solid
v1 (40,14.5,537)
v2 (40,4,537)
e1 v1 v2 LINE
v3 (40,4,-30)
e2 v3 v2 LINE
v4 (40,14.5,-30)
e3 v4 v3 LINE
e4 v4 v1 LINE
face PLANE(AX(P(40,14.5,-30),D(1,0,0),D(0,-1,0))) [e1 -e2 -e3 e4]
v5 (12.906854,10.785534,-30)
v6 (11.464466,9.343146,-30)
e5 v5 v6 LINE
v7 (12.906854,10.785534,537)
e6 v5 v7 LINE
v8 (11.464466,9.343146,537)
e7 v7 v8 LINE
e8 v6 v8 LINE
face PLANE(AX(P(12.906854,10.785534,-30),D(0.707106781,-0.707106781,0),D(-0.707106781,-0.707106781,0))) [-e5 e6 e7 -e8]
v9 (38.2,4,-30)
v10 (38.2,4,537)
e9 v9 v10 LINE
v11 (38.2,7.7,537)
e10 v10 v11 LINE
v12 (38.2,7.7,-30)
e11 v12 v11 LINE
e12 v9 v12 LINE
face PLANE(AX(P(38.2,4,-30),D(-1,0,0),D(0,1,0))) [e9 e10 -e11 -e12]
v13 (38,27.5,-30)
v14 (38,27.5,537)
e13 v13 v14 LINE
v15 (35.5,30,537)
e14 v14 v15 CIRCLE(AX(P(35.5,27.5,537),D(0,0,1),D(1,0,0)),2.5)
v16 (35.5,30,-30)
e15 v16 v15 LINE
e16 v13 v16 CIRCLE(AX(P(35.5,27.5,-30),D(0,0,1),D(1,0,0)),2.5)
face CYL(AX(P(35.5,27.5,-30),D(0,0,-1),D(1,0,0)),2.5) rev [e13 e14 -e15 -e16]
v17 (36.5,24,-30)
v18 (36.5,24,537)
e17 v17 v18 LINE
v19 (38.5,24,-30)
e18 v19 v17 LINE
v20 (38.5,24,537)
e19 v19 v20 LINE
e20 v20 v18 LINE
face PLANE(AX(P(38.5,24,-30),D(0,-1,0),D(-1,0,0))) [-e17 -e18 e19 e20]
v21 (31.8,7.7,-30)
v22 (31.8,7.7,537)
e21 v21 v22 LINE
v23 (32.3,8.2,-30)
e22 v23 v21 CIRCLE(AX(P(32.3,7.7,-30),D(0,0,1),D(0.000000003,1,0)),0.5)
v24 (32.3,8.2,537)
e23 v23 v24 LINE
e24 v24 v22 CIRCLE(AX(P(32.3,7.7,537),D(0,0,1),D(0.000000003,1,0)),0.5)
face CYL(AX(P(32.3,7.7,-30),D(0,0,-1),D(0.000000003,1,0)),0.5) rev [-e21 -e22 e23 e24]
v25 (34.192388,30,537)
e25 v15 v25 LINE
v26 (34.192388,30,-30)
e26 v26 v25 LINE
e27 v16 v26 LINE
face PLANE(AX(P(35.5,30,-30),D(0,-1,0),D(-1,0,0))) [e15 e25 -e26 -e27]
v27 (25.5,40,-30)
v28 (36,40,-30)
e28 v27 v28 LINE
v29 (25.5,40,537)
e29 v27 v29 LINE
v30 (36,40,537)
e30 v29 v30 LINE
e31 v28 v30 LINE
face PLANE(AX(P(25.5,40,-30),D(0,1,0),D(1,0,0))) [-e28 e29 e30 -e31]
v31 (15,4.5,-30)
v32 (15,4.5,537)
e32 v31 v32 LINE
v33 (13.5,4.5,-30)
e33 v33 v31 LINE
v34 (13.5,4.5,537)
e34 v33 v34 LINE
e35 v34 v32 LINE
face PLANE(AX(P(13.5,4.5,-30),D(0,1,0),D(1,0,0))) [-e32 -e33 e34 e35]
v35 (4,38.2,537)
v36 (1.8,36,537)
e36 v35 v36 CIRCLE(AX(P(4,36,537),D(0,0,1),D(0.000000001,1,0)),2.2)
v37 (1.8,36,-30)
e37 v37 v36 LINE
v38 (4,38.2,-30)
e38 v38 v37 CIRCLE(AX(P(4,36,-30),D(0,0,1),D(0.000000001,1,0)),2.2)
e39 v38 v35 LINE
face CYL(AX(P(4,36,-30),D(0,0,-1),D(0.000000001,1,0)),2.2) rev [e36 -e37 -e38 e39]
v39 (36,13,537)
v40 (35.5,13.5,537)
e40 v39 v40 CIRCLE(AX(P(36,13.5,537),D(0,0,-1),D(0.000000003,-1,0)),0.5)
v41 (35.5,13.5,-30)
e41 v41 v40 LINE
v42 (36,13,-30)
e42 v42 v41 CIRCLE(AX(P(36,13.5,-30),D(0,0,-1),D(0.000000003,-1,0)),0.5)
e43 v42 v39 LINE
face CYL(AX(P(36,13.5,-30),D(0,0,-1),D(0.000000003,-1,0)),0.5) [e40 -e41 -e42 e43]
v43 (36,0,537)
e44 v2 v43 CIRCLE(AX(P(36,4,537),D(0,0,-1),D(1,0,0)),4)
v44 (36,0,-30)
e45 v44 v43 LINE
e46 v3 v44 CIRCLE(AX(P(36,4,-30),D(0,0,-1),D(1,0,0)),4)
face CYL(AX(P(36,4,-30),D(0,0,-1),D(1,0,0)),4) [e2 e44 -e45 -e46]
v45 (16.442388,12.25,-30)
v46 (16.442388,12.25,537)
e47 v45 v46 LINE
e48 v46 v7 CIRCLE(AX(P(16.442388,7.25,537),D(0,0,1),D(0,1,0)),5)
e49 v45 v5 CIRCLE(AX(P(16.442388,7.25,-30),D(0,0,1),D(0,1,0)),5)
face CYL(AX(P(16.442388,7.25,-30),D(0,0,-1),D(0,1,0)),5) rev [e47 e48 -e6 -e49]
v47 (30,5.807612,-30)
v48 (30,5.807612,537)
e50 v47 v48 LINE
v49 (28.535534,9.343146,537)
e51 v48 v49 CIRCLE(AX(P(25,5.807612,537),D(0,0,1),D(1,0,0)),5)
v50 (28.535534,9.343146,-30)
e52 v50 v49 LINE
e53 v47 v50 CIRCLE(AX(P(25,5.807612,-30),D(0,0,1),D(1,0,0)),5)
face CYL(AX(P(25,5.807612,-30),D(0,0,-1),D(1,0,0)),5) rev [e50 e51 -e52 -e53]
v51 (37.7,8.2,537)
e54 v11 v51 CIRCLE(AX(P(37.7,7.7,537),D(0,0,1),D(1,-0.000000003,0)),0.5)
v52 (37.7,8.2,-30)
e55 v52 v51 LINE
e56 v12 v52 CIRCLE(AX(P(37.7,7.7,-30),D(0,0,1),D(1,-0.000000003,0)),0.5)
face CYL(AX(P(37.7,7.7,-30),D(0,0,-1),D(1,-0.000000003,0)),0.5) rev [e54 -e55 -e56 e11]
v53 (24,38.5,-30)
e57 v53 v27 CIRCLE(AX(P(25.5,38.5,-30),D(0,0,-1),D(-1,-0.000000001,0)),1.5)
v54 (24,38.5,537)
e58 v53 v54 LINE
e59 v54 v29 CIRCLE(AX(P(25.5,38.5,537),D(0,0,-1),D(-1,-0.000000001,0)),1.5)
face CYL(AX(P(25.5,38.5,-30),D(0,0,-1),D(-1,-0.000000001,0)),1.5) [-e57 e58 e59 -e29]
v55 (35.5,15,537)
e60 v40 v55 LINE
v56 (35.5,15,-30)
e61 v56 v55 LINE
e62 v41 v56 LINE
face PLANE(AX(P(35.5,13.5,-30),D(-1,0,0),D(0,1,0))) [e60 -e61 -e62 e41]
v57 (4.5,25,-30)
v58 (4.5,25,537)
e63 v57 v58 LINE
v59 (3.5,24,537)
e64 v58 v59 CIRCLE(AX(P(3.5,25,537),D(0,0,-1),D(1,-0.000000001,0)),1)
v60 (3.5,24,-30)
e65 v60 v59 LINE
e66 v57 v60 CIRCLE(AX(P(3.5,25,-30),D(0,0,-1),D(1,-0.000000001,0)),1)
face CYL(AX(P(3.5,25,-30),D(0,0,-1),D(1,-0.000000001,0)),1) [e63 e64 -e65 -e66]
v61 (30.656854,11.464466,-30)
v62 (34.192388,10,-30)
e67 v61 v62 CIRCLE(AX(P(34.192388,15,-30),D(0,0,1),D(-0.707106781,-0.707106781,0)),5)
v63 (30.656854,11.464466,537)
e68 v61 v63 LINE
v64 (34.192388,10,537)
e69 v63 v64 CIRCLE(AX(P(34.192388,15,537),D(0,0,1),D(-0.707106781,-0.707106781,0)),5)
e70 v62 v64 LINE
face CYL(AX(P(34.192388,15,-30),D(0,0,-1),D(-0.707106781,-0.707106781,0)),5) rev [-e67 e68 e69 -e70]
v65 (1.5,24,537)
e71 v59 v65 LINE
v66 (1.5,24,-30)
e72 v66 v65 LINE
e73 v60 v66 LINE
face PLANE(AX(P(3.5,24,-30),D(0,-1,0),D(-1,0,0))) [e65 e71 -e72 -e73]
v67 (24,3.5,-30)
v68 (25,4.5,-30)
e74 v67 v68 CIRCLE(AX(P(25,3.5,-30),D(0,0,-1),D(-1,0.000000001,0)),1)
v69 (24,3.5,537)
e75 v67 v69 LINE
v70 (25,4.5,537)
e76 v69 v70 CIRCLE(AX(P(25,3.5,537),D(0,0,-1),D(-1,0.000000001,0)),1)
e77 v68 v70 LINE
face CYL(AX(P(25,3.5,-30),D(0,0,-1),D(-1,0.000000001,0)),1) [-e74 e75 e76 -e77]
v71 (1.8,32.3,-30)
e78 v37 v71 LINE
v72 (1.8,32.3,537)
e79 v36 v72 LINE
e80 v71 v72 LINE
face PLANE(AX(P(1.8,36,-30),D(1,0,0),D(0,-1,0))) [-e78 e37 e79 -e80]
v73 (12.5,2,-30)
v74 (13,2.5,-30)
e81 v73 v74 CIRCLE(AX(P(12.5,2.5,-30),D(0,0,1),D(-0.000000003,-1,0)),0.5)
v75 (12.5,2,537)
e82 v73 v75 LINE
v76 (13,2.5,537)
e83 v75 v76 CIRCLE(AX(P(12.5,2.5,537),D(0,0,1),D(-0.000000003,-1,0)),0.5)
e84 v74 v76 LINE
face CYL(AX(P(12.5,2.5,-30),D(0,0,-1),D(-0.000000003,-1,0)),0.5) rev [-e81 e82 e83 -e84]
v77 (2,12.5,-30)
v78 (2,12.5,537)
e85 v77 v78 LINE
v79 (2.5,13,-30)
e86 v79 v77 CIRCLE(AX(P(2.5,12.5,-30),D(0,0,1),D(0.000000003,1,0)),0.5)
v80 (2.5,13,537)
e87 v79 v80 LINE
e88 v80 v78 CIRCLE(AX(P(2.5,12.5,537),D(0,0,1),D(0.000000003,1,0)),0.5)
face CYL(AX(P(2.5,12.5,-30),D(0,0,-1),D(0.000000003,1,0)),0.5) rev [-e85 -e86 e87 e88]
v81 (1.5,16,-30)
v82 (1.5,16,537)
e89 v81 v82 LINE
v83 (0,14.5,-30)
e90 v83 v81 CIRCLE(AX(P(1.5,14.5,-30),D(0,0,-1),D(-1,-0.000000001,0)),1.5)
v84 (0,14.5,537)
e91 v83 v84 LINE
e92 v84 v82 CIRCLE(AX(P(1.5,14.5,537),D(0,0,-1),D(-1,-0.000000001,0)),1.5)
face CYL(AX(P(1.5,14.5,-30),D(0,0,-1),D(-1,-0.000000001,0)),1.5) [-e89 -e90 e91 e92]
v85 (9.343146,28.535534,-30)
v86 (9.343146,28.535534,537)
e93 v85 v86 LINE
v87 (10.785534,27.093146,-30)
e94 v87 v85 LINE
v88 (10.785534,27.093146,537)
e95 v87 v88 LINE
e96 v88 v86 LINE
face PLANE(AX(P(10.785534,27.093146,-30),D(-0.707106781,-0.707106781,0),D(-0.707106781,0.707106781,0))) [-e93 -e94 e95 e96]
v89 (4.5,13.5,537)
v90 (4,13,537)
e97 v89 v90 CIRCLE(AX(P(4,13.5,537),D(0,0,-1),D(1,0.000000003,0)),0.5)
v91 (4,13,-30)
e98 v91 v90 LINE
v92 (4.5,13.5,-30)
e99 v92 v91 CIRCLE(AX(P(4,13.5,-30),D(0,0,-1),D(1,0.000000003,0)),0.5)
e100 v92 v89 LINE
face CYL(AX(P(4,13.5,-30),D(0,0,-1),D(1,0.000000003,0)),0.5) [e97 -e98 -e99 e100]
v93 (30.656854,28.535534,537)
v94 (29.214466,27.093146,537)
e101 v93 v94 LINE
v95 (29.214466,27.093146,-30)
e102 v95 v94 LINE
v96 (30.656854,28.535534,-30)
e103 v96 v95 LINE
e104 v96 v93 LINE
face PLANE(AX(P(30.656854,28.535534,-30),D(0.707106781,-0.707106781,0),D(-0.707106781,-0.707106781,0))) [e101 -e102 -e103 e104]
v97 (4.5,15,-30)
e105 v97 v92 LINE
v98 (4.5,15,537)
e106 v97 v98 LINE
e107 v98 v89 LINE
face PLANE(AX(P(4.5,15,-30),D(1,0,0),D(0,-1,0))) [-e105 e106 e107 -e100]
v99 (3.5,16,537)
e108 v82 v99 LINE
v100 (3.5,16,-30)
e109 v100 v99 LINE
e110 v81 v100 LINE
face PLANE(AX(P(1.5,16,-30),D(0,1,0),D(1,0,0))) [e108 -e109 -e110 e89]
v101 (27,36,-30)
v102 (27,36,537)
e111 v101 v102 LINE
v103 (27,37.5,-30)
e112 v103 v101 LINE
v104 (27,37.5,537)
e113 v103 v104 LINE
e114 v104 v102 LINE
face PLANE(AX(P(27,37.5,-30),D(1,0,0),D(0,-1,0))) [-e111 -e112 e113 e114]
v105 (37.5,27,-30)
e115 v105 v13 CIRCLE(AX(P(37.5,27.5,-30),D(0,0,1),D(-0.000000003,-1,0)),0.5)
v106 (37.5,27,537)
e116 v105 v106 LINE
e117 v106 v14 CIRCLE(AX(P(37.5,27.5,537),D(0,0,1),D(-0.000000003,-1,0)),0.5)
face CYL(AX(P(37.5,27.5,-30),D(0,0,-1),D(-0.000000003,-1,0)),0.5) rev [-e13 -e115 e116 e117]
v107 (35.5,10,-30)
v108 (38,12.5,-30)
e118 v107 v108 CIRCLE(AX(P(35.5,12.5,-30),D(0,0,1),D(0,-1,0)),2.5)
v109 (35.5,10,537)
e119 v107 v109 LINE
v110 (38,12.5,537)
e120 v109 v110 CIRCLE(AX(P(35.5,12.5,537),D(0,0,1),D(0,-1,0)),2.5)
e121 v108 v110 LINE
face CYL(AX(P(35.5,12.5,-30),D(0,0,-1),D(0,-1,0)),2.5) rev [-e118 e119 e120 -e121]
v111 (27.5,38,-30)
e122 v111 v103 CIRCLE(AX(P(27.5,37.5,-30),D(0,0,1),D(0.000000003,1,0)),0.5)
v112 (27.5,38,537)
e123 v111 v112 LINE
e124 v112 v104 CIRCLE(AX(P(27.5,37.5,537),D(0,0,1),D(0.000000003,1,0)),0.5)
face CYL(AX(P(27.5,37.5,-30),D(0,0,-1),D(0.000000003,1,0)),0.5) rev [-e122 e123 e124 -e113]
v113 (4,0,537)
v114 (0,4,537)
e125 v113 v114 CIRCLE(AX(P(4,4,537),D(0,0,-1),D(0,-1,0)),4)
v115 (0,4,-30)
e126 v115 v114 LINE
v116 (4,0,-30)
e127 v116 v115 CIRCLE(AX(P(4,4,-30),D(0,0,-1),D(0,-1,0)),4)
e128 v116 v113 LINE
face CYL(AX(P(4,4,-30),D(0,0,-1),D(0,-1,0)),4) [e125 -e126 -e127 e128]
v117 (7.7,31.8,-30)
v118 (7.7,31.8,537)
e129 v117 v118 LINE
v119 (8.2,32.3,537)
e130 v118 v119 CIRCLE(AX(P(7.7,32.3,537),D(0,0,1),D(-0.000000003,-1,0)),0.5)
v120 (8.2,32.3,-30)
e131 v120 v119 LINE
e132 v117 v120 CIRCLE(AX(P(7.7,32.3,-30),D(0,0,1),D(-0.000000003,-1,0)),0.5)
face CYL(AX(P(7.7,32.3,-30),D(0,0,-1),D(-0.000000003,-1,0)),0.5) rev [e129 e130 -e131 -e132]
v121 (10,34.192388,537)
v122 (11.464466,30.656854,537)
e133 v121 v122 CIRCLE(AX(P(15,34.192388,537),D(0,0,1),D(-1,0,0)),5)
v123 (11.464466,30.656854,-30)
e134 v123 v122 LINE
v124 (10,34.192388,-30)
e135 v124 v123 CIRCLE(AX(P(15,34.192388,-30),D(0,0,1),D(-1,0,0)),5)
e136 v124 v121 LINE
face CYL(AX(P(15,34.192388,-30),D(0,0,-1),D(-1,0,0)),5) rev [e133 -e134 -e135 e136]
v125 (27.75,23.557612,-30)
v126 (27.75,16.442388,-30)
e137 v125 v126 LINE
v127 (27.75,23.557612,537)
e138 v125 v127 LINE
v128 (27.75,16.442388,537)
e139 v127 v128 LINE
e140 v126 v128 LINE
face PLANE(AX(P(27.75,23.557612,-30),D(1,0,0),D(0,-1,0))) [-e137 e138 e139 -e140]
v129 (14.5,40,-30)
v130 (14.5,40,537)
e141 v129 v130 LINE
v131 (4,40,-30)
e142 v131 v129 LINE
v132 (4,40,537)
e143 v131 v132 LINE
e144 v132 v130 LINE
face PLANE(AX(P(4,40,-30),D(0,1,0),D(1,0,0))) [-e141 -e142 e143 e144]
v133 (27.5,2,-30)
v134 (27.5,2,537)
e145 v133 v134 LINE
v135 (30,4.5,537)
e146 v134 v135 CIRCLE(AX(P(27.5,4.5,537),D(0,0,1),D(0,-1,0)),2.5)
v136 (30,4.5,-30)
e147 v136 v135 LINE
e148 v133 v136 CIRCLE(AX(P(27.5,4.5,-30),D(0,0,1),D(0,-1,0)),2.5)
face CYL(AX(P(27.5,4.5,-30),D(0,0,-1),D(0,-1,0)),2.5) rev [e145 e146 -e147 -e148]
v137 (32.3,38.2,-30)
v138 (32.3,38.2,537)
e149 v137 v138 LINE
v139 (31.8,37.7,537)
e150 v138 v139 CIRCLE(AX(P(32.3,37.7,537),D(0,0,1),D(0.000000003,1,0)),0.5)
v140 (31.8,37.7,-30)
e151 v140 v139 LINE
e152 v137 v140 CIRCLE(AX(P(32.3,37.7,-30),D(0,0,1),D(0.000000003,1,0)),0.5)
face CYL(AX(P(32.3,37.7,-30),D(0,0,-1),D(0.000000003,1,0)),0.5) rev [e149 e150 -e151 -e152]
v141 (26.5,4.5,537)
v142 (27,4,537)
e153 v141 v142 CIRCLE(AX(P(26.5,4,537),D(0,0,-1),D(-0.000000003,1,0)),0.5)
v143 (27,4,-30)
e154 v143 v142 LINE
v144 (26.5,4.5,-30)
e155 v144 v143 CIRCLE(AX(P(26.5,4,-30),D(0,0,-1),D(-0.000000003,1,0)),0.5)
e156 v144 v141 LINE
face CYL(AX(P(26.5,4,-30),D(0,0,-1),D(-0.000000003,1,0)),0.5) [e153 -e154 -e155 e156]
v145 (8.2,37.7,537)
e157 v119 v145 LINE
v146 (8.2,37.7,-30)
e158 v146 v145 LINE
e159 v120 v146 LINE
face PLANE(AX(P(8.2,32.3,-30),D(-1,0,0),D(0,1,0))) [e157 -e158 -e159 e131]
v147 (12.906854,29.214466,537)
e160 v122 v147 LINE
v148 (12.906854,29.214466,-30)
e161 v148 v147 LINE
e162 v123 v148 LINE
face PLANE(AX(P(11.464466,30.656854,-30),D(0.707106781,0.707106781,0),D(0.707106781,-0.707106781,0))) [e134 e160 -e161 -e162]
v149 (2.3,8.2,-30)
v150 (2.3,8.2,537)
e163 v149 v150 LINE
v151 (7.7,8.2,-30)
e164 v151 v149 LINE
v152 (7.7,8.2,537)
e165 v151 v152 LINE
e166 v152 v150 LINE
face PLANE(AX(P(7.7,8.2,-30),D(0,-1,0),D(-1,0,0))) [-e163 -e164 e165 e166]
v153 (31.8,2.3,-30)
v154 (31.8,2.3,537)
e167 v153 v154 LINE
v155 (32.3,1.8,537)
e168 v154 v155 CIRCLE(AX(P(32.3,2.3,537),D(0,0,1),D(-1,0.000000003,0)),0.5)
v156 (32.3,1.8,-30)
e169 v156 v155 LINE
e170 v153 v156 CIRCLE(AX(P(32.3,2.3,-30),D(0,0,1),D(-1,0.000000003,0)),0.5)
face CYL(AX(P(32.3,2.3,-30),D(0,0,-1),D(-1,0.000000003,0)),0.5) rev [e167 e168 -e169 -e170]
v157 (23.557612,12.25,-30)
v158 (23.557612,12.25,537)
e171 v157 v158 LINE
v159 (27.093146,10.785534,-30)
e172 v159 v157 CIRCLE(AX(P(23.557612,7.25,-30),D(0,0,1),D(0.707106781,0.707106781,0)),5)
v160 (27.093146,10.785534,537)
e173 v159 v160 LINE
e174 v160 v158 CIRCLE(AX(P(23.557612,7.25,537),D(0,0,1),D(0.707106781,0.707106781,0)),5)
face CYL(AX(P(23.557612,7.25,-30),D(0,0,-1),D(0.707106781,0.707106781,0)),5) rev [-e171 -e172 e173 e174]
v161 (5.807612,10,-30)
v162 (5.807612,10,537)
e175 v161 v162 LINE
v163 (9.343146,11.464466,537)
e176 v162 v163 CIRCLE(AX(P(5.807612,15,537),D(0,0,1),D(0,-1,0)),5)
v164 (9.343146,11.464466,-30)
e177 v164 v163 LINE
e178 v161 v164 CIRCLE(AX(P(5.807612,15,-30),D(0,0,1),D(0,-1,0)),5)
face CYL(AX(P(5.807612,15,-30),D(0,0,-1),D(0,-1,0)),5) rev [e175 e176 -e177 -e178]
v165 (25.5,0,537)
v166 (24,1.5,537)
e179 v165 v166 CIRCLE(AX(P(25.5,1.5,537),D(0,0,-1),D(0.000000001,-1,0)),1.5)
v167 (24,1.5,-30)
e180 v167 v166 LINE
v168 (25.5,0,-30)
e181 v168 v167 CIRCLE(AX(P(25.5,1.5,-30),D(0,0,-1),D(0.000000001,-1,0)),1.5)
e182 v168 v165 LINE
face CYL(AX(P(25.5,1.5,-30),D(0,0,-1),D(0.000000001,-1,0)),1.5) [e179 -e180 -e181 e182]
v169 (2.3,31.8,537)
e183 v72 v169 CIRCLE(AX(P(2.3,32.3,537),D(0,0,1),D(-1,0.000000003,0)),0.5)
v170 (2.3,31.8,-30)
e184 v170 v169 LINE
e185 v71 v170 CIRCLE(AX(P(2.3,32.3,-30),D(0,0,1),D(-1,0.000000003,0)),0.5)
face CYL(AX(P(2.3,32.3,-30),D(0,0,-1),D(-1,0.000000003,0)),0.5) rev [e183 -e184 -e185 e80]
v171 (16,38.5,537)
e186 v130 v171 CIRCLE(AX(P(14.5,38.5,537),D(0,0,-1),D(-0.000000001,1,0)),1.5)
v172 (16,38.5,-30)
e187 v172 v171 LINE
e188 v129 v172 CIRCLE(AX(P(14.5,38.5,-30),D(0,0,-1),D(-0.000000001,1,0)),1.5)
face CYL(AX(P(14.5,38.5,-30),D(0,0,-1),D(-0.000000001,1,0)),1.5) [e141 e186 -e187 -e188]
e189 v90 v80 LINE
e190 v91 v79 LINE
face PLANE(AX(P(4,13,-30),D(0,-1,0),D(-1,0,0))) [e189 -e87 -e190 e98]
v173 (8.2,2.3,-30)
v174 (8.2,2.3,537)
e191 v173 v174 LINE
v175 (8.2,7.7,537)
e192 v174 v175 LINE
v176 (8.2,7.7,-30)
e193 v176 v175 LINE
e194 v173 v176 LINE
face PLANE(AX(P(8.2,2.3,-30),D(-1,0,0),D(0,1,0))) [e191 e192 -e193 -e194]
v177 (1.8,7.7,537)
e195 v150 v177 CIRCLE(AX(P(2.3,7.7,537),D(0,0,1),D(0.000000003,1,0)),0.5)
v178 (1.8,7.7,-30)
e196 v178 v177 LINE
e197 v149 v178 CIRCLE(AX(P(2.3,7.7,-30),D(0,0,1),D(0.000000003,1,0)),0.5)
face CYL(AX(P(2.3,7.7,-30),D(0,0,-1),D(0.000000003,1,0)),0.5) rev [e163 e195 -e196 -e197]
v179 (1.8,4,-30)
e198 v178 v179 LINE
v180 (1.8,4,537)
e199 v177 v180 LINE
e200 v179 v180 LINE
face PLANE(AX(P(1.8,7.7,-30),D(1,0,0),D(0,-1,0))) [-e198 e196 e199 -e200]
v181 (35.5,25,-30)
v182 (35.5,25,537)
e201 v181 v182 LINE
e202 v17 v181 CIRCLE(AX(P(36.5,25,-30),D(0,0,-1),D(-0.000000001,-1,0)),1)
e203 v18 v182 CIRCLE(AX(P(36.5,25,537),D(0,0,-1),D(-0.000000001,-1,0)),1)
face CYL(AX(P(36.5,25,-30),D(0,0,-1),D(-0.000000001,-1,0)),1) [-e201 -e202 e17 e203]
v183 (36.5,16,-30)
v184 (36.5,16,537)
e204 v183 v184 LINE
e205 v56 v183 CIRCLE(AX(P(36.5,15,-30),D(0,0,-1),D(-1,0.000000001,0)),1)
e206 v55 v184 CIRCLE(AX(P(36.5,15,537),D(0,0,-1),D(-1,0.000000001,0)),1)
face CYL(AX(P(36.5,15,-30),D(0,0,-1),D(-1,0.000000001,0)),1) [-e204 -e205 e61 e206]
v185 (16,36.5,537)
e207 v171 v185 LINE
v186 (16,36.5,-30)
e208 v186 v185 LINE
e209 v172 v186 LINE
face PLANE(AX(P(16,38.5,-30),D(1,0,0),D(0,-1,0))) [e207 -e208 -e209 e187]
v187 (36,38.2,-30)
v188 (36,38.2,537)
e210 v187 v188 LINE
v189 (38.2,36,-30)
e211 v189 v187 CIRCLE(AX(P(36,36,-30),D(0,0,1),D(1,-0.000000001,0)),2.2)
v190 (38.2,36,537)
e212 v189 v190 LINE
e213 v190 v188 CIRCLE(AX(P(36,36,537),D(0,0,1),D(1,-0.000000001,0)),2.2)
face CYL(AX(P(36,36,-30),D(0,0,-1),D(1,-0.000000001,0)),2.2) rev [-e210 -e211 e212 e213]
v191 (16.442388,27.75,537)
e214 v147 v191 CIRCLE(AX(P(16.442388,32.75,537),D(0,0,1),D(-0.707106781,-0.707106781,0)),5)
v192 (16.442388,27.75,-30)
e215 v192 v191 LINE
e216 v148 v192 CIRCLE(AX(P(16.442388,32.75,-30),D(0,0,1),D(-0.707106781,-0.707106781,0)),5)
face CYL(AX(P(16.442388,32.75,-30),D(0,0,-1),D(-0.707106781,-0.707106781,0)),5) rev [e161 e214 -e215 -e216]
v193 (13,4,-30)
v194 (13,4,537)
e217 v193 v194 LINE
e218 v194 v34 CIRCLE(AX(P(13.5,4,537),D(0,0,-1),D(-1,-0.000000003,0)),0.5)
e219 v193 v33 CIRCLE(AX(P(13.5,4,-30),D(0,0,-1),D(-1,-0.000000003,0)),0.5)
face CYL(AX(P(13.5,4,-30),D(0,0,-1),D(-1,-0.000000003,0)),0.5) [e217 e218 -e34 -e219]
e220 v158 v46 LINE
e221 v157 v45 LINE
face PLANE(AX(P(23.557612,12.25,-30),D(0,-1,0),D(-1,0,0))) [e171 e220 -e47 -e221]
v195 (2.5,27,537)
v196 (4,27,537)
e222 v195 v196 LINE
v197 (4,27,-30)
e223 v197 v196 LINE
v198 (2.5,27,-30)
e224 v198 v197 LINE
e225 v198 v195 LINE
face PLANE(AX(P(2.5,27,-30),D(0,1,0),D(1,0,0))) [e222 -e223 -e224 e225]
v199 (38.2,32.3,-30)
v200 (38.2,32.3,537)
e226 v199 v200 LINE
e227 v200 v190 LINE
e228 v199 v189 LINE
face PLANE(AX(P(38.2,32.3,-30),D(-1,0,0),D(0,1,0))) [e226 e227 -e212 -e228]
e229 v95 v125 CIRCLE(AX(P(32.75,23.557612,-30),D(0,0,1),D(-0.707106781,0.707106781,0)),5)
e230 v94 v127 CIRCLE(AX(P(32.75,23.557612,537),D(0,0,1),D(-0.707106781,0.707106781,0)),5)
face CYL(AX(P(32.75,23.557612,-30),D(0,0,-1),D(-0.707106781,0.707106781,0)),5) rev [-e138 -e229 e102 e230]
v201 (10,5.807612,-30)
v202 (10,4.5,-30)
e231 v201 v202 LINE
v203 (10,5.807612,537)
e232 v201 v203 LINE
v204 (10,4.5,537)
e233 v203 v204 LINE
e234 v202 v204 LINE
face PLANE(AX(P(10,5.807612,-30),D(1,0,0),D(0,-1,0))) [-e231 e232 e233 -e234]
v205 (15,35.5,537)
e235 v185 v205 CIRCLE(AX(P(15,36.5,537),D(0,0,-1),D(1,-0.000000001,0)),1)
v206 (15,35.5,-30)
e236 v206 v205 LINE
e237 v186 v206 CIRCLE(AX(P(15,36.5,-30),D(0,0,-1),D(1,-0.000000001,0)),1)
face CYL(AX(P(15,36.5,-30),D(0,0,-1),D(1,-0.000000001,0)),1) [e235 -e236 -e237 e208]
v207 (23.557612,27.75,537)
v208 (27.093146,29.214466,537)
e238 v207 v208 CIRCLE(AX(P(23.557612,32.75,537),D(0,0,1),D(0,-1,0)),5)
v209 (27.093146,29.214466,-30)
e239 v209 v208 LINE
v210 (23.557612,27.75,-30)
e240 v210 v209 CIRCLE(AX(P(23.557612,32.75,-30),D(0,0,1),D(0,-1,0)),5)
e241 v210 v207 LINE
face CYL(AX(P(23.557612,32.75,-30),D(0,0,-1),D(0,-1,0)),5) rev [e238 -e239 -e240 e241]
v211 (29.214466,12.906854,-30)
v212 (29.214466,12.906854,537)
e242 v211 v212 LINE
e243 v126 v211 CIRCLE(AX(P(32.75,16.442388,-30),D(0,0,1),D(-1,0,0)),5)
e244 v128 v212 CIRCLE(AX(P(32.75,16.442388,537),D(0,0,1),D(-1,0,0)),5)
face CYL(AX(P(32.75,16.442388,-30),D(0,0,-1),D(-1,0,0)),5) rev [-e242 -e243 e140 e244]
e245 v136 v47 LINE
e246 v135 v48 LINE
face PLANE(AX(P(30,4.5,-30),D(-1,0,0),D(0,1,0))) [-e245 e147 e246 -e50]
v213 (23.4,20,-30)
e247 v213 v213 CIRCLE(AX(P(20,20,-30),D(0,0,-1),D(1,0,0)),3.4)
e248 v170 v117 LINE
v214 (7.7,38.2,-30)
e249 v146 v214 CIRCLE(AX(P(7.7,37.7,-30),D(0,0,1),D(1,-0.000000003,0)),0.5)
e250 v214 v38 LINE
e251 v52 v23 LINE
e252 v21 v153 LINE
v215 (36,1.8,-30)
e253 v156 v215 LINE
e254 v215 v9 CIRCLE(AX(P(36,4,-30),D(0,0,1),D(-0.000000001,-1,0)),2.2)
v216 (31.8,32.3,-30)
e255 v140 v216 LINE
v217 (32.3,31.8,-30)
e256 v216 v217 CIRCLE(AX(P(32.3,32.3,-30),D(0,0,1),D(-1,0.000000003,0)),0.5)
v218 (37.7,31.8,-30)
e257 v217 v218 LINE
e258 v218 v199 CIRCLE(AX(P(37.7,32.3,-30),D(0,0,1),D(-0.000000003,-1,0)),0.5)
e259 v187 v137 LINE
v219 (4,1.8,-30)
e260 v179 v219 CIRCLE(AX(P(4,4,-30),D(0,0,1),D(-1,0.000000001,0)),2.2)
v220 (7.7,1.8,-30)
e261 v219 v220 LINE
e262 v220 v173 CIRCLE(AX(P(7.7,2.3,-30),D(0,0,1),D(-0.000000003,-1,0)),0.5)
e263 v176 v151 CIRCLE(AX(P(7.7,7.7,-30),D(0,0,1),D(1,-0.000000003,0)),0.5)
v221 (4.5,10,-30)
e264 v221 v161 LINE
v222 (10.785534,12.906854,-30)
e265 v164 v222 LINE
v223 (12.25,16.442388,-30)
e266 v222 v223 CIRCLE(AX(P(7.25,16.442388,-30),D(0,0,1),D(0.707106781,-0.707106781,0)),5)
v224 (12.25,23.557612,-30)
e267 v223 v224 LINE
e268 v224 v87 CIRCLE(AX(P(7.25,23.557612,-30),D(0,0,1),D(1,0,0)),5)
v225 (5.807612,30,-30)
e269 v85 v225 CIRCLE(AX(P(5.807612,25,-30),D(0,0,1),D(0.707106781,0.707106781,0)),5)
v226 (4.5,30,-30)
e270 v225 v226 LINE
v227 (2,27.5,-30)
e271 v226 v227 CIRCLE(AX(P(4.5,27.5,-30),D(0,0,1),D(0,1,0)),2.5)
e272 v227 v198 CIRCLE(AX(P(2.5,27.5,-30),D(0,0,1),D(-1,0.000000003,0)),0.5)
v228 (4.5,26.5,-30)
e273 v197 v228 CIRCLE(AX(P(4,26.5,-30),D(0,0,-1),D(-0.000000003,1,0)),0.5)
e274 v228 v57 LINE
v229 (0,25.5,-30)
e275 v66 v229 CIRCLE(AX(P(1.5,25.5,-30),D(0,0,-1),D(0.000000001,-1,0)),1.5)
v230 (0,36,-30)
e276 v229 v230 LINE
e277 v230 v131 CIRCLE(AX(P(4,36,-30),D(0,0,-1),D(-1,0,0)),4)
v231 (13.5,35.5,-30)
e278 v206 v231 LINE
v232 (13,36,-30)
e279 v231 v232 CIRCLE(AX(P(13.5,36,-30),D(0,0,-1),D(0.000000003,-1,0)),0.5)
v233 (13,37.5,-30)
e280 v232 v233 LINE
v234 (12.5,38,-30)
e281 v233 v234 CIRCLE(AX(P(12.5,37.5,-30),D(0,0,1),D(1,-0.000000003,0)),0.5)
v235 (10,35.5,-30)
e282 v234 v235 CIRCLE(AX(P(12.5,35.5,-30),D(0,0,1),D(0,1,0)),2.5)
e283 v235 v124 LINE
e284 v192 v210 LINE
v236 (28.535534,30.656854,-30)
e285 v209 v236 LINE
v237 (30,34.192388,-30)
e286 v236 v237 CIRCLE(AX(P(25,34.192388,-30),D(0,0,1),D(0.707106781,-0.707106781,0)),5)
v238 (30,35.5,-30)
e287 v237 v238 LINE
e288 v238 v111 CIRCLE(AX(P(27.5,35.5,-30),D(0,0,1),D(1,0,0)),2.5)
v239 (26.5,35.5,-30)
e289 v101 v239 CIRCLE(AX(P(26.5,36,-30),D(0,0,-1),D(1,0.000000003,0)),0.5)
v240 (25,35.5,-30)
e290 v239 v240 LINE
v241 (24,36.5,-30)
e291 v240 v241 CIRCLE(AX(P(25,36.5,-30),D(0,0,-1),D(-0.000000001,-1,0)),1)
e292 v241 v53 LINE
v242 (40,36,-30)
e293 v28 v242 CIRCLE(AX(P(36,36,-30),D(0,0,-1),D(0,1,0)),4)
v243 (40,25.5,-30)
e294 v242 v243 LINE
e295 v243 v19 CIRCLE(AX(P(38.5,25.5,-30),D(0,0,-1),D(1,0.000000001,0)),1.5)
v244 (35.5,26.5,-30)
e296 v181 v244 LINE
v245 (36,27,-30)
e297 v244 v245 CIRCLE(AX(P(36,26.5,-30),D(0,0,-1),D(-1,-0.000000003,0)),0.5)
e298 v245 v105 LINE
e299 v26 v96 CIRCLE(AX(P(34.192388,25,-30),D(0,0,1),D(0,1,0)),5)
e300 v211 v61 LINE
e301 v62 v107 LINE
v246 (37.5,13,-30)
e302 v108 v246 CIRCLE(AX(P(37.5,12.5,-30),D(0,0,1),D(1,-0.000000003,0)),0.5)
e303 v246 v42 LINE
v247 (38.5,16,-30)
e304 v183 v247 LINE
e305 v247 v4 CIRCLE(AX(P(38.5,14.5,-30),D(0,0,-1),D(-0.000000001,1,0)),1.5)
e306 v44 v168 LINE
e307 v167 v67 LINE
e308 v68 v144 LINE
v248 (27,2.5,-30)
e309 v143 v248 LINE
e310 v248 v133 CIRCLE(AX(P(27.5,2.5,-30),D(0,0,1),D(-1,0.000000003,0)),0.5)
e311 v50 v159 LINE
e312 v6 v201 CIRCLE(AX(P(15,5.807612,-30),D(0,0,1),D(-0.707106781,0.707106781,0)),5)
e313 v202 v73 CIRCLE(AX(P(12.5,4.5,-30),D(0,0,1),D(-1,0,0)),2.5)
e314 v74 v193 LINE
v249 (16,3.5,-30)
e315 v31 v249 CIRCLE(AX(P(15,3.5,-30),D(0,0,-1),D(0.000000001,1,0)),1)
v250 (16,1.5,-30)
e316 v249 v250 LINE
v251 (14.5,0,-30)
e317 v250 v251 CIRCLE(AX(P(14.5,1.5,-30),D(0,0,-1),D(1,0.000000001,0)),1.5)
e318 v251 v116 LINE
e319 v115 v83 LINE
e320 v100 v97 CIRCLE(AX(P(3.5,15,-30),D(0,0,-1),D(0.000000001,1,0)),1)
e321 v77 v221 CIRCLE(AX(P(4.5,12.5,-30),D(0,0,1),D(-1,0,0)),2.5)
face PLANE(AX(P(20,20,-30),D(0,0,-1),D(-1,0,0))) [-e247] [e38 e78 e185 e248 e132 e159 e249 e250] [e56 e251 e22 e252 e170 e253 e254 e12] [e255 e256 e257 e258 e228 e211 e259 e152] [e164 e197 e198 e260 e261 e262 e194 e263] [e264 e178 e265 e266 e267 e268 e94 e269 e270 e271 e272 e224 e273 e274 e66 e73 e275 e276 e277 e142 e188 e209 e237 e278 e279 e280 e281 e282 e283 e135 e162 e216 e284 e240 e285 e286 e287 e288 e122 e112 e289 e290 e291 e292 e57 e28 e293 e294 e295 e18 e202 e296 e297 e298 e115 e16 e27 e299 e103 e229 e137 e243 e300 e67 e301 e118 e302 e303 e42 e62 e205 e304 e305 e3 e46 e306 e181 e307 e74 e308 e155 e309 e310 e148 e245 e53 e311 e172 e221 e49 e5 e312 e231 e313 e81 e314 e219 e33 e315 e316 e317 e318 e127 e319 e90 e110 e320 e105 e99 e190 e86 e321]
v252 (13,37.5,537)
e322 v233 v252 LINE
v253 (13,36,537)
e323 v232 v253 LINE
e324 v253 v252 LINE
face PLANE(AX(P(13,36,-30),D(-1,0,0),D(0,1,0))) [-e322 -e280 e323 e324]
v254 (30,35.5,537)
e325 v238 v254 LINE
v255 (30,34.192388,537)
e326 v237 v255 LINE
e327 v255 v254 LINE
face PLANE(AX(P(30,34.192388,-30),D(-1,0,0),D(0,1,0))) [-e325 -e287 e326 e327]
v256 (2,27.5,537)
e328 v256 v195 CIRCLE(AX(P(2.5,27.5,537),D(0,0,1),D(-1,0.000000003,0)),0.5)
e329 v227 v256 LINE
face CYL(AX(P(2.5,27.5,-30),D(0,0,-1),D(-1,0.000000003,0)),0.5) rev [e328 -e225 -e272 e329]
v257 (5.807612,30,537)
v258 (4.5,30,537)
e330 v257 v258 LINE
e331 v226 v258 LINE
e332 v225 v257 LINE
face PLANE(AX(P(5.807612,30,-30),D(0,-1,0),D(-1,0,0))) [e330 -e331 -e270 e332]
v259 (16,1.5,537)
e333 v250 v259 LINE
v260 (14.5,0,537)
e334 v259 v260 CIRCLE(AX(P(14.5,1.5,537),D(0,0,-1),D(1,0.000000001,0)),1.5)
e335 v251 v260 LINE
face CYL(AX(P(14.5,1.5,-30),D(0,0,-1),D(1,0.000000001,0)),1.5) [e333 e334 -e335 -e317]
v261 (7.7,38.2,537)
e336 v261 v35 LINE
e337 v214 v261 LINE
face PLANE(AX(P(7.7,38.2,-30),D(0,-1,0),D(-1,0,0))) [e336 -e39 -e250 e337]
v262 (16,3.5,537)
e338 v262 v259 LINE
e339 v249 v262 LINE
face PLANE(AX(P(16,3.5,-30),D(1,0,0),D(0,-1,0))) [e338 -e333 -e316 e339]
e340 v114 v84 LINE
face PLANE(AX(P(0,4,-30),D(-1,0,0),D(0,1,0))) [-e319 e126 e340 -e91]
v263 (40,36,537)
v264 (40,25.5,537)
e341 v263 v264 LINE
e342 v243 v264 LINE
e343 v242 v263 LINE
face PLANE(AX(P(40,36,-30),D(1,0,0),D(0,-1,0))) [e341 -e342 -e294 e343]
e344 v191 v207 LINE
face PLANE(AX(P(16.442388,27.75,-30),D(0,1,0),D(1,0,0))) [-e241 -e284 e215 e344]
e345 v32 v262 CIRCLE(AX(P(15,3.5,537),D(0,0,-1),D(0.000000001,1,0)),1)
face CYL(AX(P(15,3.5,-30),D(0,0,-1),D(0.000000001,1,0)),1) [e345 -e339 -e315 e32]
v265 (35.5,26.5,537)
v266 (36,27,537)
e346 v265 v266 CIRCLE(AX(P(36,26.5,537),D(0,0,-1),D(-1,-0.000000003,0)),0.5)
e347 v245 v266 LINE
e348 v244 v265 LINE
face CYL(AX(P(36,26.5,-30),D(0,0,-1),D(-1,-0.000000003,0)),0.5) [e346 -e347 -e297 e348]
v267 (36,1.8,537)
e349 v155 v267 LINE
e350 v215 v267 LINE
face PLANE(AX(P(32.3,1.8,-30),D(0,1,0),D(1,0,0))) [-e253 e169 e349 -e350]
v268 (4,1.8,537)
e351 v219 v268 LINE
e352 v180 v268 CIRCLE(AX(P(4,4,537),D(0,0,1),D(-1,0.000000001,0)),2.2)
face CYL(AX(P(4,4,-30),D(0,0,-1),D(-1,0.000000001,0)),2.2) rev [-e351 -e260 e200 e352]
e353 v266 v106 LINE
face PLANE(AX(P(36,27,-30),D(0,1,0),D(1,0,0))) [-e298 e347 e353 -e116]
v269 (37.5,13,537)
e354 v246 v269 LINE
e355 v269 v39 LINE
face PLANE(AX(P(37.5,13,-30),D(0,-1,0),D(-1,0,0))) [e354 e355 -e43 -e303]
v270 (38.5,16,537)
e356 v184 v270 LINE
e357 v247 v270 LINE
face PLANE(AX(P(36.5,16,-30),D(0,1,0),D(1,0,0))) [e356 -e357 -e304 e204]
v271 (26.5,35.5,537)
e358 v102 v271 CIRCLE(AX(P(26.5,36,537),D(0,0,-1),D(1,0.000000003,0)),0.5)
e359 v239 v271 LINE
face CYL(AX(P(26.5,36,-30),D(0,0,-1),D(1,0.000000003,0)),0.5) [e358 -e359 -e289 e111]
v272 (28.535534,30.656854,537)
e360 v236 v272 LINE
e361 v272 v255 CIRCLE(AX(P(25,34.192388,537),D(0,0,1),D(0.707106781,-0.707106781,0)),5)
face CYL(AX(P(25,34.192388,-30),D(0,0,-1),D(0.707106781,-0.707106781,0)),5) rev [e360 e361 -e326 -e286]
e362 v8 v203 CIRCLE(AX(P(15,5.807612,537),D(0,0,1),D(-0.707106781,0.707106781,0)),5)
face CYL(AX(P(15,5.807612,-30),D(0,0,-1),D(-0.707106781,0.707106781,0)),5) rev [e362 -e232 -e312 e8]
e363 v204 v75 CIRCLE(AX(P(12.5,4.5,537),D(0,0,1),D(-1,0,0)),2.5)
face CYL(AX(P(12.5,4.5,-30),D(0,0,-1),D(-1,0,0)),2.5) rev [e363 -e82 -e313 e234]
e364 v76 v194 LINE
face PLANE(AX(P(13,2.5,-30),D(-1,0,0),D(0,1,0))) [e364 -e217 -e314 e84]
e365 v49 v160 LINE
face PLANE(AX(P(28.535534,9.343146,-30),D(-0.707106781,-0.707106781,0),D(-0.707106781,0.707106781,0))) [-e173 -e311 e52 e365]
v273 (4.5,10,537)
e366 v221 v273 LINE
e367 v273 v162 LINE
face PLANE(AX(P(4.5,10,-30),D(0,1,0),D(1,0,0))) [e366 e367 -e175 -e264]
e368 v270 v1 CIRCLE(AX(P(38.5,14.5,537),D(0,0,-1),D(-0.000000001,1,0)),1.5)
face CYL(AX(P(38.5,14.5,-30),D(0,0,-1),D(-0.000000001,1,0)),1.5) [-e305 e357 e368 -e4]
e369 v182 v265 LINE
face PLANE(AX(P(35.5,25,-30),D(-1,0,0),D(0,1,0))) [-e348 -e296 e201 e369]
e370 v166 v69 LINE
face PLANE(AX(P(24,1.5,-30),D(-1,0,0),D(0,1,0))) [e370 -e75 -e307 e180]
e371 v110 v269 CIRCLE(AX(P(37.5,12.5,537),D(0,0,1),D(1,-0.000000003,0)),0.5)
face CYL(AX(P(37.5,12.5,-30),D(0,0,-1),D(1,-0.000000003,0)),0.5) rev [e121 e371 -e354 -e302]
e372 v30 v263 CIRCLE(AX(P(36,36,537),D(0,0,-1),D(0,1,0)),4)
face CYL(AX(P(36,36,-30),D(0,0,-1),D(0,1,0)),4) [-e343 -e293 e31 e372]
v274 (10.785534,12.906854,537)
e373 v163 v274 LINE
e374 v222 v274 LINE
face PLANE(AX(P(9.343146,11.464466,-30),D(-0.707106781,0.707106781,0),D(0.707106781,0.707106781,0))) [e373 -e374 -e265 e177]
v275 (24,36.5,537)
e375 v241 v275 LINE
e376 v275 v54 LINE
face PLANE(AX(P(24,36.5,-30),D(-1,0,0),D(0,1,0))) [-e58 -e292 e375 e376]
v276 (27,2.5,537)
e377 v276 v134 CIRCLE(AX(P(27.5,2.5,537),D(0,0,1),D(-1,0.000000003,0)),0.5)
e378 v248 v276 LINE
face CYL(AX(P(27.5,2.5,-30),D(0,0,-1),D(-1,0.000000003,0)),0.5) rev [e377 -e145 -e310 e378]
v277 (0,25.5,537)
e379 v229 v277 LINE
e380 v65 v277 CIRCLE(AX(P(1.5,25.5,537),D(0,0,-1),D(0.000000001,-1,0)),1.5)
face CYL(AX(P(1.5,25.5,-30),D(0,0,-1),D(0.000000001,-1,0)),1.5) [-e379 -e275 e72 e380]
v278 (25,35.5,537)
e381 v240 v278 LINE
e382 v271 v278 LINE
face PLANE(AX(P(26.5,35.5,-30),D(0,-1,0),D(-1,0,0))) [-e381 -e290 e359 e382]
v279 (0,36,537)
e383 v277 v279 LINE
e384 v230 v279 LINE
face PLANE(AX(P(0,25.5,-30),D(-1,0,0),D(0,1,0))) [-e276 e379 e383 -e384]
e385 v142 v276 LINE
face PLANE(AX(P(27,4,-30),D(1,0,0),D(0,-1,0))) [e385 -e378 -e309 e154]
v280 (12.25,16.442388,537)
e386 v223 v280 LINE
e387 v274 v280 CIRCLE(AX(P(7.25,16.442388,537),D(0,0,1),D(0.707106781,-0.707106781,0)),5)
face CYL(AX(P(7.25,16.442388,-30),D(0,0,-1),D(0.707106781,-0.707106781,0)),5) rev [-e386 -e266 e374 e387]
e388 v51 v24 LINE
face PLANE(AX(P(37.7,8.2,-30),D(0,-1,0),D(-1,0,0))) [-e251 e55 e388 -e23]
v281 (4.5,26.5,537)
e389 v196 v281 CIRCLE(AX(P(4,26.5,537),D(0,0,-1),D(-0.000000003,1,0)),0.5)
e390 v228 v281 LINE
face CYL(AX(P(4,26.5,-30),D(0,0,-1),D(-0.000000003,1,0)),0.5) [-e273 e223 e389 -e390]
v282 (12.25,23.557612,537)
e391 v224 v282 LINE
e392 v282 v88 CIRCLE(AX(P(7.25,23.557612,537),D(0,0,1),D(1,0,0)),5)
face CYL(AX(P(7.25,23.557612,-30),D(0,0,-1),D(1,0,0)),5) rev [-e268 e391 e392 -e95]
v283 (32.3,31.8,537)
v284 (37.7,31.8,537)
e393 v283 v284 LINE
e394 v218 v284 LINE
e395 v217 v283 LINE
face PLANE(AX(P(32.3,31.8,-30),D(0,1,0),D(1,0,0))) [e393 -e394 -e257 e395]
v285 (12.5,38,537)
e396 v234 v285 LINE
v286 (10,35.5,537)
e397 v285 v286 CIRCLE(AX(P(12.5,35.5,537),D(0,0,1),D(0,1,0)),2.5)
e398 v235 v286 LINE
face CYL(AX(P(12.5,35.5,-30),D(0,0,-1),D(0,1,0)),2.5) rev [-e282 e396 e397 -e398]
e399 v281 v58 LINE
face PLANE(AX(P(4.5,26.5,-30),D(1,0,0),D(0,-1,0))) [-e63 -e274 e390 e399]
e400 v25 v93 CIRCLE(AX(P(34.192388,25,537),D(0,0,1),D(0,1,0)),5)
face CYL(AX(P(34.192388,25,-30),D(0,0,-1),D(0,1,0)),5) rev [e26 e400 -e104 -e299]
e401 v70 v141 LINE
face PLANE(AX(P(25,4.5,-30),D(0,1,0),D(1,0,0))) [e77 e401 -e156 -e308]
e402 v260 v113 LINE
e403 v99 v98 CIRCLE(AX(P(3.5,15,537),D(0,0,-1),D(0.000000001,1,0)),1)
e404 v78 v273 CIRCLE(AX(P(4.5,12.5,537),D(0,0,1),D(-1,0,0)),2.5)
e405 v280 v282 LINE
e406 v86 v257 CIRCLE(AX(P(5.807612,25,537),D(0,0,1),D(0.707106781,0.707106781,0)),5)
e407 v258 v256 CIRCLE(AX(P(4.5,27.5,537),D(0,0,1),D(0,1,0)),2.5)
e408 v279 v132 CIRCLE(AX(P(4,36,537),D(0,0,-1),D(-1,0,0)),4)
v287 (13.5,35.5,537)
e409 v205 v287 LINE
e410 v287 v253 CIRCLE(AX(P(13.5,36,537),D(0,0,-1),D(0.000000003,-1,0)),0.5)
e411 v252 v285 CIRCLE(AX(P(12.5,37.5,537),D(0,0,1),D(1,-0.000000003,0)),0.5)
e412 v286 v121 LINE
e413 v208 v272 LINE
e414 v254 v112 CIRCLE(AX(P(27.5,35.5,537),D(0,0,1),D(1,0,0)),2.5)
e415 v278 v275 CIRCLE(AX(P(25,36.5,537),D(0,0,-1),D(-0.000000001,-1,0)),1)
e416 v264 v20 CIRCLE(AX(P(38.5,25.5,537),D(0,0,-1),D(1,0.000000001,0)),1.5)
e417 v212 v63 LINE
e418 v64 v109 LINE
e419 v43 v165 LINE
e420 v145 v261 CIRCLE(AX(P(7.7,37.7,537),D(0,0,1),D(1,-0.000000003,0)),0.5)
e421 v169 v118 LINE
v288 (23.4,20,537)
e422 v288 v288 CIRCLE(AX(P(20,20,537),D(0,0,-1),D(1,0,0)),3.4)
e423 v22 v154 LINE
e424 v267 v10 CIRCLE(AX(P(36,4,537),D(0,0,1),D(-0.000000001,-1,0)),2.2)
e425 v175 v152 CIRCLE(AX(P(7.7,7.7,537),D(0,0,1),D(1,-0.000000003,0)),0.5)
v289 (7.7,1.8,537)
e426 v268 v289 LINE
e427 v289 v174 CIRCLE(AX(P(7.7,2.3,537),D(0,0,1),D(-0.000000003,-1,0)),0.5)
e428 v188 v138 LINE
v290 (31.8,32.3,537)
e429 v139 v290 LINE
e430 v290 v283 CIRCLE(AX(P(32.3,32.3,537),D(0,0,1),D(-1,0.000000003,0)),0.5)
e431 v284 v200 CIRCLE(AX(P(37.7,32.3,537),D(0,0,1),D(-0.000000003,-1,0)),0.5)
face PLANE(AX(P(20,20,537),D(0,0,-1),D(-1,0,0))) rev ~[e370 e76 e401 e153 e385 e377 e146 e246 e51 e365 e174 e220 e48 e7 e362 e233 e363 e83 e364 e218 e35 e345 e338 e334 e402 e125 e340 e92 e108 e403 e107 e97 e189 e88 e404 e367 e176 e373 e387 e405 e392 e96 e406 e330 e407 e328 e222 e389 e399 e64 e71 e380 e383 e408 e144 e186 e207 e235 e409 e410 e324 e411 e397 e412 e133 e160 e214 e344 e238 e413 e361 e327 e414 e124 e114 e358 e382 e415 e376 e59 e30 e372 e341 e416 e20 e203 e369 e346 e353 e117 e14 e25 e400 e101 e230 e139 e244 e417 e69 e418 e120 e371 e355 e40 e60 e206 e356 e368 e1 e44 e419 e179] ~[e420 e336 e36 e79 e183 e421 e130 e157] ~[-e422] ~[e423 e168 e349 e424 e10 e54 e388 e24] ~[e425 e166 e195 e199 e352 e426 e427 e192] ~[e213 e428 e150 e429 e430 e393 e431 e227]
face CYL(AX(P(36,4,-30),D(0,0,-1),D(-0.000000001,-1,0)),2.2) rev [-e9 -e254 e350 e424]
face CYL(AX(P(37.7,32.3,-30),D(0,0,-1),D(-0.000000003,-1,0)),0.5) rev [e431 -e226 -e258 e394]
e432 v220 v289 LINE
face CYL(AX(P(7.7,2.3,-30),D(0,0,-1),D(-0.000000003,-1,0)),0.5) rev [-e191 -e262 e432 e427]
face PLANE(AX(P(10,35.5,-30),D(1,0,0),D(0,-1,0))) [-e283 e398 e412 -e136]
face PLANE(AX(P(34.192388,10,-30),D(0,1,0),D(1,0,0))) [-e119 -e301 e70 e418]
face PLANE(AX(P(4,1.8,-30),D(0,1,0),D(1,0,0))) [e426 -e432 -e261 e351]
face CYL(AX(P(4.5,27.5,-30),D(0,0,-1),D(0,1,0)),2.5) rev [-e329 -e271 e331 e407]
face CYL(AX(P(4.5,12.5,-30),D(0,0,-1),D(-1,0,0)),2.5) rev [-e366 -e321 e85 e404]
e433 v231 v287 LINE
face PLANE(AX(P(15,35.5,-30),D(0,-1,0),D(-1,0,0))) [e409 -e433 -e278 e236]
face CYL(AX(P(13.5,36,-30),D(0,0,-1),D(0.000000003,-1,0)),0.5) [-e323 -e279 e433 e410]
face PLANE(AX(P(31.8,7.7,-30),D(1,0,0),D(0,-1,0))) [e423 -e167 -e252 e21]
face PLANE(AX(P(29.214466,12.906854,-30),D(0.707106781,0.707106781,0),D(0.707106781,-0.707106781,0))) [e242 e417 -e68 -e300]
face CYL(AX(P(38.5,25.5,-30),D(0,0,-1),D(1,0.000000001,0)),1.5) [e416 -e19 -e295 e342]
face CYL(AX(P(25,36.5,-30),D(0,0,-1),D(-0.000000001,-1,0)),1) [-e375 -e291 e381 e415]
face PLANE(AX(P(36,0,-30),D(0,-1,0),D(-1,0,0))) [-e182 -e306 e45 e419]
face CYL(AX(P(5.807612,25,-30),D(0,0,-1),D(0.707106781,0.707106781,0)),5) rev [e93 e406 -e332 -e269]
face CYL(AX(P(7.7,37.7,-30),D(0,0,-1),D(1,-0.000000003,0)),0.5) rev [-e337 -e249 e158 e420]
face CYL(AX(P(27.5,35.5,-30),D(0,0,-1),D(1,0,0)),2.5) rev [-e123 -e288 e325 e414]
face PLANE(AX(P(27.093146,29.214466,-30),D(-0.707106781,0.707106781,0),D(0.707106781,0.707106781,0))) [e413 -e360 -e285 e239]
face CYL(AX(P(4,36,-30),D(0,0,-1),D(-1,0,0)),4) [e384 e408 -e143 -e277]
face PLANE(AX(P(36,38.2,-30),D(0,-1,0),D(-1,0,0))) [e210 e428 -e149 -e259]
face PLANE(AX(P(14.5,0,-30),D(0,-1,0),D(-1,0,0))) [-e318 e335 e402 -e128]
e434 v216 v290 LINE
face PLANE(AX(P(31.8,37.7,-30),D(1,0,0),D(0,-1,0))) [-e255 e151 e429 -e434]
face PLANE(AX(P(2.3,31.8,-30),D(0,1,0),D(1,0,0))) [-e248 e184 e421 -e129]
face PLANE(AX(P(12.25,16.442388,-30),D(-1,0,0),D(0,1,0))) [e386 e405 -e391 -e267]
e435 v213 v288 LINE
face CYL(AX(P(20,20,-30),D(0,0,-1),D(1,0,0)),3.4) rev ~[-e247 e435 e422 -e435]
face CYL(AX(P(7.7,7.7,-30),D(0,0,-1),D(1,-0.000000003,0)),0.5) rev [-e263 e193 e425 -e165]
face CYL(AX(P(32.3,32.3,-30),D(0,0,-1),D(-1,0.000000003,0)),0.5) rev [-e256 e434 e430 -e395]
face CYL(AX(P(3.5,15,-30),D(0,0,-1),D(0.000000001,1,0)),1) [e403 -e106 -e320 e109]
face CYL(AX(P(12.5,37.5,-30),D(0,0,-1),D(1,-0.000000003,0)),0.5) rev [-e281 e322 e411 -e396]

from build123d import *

# Parameters (mm, degrees)
ESQUISSE1_R        = 3.4
BOSS_EXTRU_1_DEPTH = 567


with BuildPart() as part:
    # Esquisse1 → Boss.-Extru.1 (new body)
    with BuildSketch(Plane(origin=(0, 0, -30), x_dir=(-1, 0, 0), z_dir=(0, 0, -1))):
        with BuildLine():
            Line((-4.5, 15), (-4.5, 13.5))
            ThreePointArc((-4.5, 13.5), (-4.353553391, 13.146446609), (-4, 13))
            Line((-4, 13), (-2.5, 13))
            ThreePointArc((-2.5, 13), (-2.146446609, 12.853553391), (-2, 12.5))
            ThreePointArc((-2, 12.5), (-2.732233047, 10.732233047), (-4.5, 10))
            Line((-4.5, 10), (-5.807611845, 10))
            ThreePointArc((-5.807611845, 10), (-7.721029006, 10.380602337), (-9.343145751, 11.464466094))
            Line((-9.343145751, 11.464466094), (-10.785533906, 12.906854249))
            ThreePointArc((-10.785533906, 12.906854249), (-11.869397663, 14.528970994), (-12.25, 16.442388155))
            Line((-12.25, 16.442388155), (-12.25, 23.557611845))
            ThreePointArc((-12.25, 23.557611845), (-11.869397663, 25.471029006), (-10.785533906, 27.093145751))
            Line((-10.785533906, 27.093145751), (-9.343145751, 28.535533906))
            ThreePointArc((-9.343145751, 28.535533906), (-7.721029006, 29.619397663), (-5.807611845, 30))
            Line((-5.807611845, 30), (-4.5, 30))
            ThreePointArc((-4.5, 30), (-2.732233047, 29.267766953), (-2, 27.5))
            ThreePointArc((-2, 27.5), (-2.146446609, 27.146446609), (-2.5, 27))
            Line((-2.5, 27), (-4, 27))
            ThreePointArc((-4, 27), (-4.353553391, 26.853553391), (-4.5, 26.5))
            Line((-4.5, 26.5), (-4.5, 25))
            ThreePointArc((-4.5, 25), (-4.207106781, 24.292893219), (-3.5, 24))
            Line((-3.5, 24), (-1.5, 24))
            ThreePointArc((-1.5, 24), (-0.439339828, 24.439339828), (0, 25.5))
            Line((0, 25.5), (0, 36))
            ThreePointArc((0, 36), (-1.171572875, 38.828427125), (-4, 40))
            Line((-4, 40), (-14.5, 40))
            ThreePointArc((-14.5, 40), (-15.560660172, 39.560660172), (-16, 38.5))
            Line((-16, 38.5), (-16, 36.5))
            ThreePointArc((-16, 36.5), (-15.707106781, 35.792893219), (-15, 35.5))
            Line((-15, 35.5), (-13.5, 35.5))
            ThreePointArc((-13.5, 35.5), (-13.146446609, 35.646446609), (-13, 36))
            Line((-13, 36), (-13, 37.5))
            ThreePointArc((-13, 37.5), (-12.853553391, 37.853553391), (-12.5, 38))
            ThreePointArc((-12.5, 38), (-10.732233047, 37.267766953), (-10, 35.5))
            Line((-10, 35.5), (-10, 34.192388155))
            ThreePointArc((-10, 34.192388155), (-10.380602337, 32.278970994), (-11.464466094, 30.656854249))
            Line((-11.464466094, 30.656854249), (-12.906854249, 29.214466094))
            ThreePointArc((-12.906854249, 29.214466094), (-14.528970994, 28.130602337), (-16.442388155, 27.75))
            Line((-16.442388155, 27.75), (-23.557611845, 27.75))
            ThreePointArc((-23.557611845, 27.75), (-25.471029006, 28.130602337), (-27.093145751, 29.214466094))
            Line((-27.093145751, 29.214466094), (-28.535533906, 30.656854249))
            ThreePointArc((-28.535533906, 30.656854249), (-29.619397663, 32.278970994), (-30, 34.192388155))
            Line((-30, 34.192388155), (-30, 35.5))
            ThreePointArc((-30, 35.5), (-29.267766953, 37.267766953), (-27.5, 38))
            ThreePointArc((-27.5, 38), (-27.146446609, 37.853553391), (-27, 37.5))
            Line((-27, 37.5), (-27, 36))
            ThreePointArc((-27, 36), (-26.853553391, 35.646446609), (-26.5, 35.5))
            Line((-26.5, 35.5), (-25, 35.5))
            ThreePointArc((-25, 35.5), (-24.292893219, 35.792893219), (-24, 36.5))
            Line((-24, 36.5), (-24, 38.5))
            ThreePointArc((-24, 38.5), (-24.439339828, 39.560660172), (-25.5, 40))
            Line((-25.5, 40), (-36, 40))
            ThreePointArc((-36, 40), (-38.828427125, 38.828427125), (-40, 36))
            Line((-40, 36), (-40, 25.5))
            ThreePointArc((-40, 25.5), (-39.560660172, 24.439339828), (-38.5, 24))
            Line((-38.5, 24), (-36.5, 24))
            ThreePointArc((-36.5, 24), (-35.792893219, 24.292893219), (-35.5, 25))
            Line((-35.5, 25), (-35.5, 26.5))
            ThreePointArc((-35.5, 26.5), (-35.646446609, 26.853553391), (-36, 27))
            Line((-36, 27), (-37.5, 27))
            ThreePointArc((-37.5, 27), (-37.853553391, 27.146446609), (-38, 27.5))
            ThreePointArc((-38, 27.5), (-37.267766953, 29.267766953), (-35.5, 30))
            Line((-35.5, 30), (-34.192388155, 30))
            ThreePointArc((-34.192388155, 30), (-32.278970994, 29.619397663), (-30.656854249, 28.535533906))
            Line((-30.656854249, 28.535533906), (-29.214466094, 27.093145751))
            ThreePointArc((-29.214466094, 27.093145751), (-28.130602337, 25.471029006), (-27.75, 23.557611845))
            Line((-27.75, 23.557611845), (-27.75, 16.442388155))
            ThreePointArc((-27.75, 16.442388155), (-28.130602337, 14.528970994), (-29.214466094, 12.906854249))
            Line((-29.214466094, 12.906854249), (-30.656854249, 11.464466094))
            ThreePointArc((-30.656854249, 11.464466094), (-32.278970994, 10.380602337), (-34.192388155, 10))
            Line((-34.192388155, 10), (-35.5, 10))
            ThreePointArc((-35.5, 10), (-37.267766953, 10.732233047), (-38, 12.5))
            ThreePointArc((-38, 12.5), (-37.853553391, 12.853553391), (-37.5, 13))
            Line((-37.5, 13), (-36, 13))
            ThreePointArc((-36, 13), (-35.646446609, 13.146446609), (-35.5, 13.5))
            Line((-35.5, 13.5), (-35.5, 15))
            ThreePointArc((-35.5, 15), (-35.792893219, 15.707106781), (-36.5, 16))
            Line((-36.5, 16), (-38.5, 16))
            ThreePointArc((-38.5, 16), (-39.560660172, 15.560660172), (-40, 14.5))
            Line((-40, 14.5), (-40, 4))
            ThreePointArc((-40, 4), (-38.828427125, 1.171572875), (-36, 0))
            Line((-36, 0), (-25.5, 0))
            ThreePointArc((-25.5, 0), (-24.439339828, 0.439339828), (-24, 1.5))
            Line((-24, 1.5), (-24, 3.5))
            ThreePointArc((-24, 3.5), (-24.292893219, 4.207106781), (-25, 4.5))
            Line((-25, 4.5), (-26.5, 4.5))
            ThreePointArc((-26.5, 4.5), (-26.853553391, 4.353553391), (-27, 4))
            Line((-27, 4), (-27, 2.5))
            ThreePointArc((-27, 2.5), (-27.146446609, 2.146446609), (-27.5, 2))
            ThreePointArc((-27.5, 2), (-29.267766953, 2.732233047), (-30, 4.5))
            Line((-30, 4.5), (-30, 5.807611845))
            ThreePointArc((-30, 5.807611845), (-29.619397663, 7.721029006), (-28.535533906, 9.343145751))
            Line((-28.535533906, 9.343145751), (-27.093145751, 10.785533906))
            ThreePointArc((-27.093145751, 10.785533906), (-25.471029006, 11.869397663), (-23.557611845, 12.25))
            Line((-23.557611845, 12.25), (-16.442388155, 12.25))
            ThreePointArc((-16.442388155, 12.25), (-14.528970994, 11.869397663), (-12.906854249, 10.785533906))
            Line((-12.906854249, 10.785533906), (-11.464466094, 9.343145751))
            ThreePointArc((-11.464466094, 9.343145751), (-10.380602337, 7.721029006), (-10, 5.807611845))
            Line((-10, 5.807611845), (-10, 4.5))
            ThreePointArc((-10, 4.5), (-10.732233047, 2.732233047), (-12.5, 2))
            ThreePointArc((-12.5, 2), (-12.853553391, 2.146446609), (-13, 2.5))
            Line((-13, 2.5), (-13, 4))
            ThreePointArc((-13, 4), (-13.146446609, 4.353553391), (-13.5, 4.5))
            Line((-13.5, 4.5), (-15, 4.5))
            ThreePointArc((-15, 4.5), (-15.707106781, 4.207106781), (-16, 3.5))
            Line((-16, 3.5), (-16, 1.5))
            ThreePointArc((-16, 1.5), (-15.560660172, 0.439339828), (-14.5, 0))
            Line((-14.5, 0), (-4, 0))
            ThreePointArc((-4, 0), (-1.171572875, 1.171572875), (0, 4))
            Line((0, 4), (0, 14.5))
            ThreePointArc((0, 14.5), (-0.439339828, 15.560660172), (-1.5, 16))
            Line((-1.5, 16), (-3.5, 16))
            ThreePointArc((-3.5, 16), (-4.207106781, 15.707106781), (-4.5, 15))
        make_face()
        with Locations(Location((-20, 20, 0), (0, 0, 180))):
            Circle(ESQUISSE1_R, mode=Mode.SUBTRACT)
        with BuildLine():
            Line((-4, 1.8), (-7.7, 1.8))
            ThreePointArc((-7.7, 1.8), (-8.053553391, 1.946446609), (-8.2, 2.3))
            Line((-8.2, 2.3), (-8.2, 7.7))
            ThreePointArc((-8.2, 7.7), (-8.053553391, 8.053553391), (-7.7, 8.2))
            Line((-7.7, 8.2), (-2.3, 8.2))
            ThreePointArc((-2.3, 8.2), (-1.946446609, 8.053553391), (-1.8, 7.7))
            Line((-1.8, 7.7), (-1.8, 4))
            ThreePointArc((-1.8, 4), (-2.444365081, 2.444365081), (-4, 1.8))
        make_face(mode=Mode.SUBTRACT)
        with BuildLine():
            Line((-38.2, 4), (-38.2, 7.7))
            ThreePointArc((-38.2, 7.7), (-38.053553391, 8.053553391), (-37.7, 8.2))
            Line((-37.7, 8.2), (-32.3, 8.2))
            ThreePointArc((-32.3, 8.2), (-31.946446609, 8.053553391), (-31.8, 7.7))
            Line((-31.8, 7.7), (-31.8, 2.3))
            ThreePointArc((-31.8, 2.3), (-31.946446609, 1.946446609), (-32.3, 1.8))
            Line((-32.3, 1.8), (-36, 1.8))
            ThreePointArc((-36, 1.8), (-37.555634919, 2.444365081), (-38.2, 4))
        make_face(mode=Mode.SUBTRACT)
        with BuildLine():
            Line((-36, 38.2), (-32.3, 38.2))
            ThreePointArc((-32.3, 38.2), (-31.946446609, 38.053553391), (-31.8, 37.7))
            Line((-31.8, 37.7), (-31.8, 32.3))
            ThreePointArc((-31.8, 32.3), (-31.946446609, 31.946446609), (-32.3, 31.8))
            Line((-32.3, 31.8), (-37.7, 31.8))
            ThreePointArc((-37.7, 31.8), (-38.053553391, 31.946446609), (-38.2, 32.3))
            Line((-38.2, 32.3), (-38.2, 36))
            ThreePointArc((-38.2, 36), (-37.555634919, 37.555634919), (-36, 38.2))
        make_face(mode=Mode.SUBTRACT)
        with BuildLine():
            Line((-1.8, 36), (-1.8, 32.3))
            ThreePointArc((-1.8, 32.3), (-1.946446609, 31.946446609), (-2.3, 31.8))
            Line((-2.3, 31.8), (-7.7, 31.8))
            ThreePointArc((-7.7, 31.8), (-8.053553391, 31.946446609), (-8.2, 32.3))
            Line((-8.2, 32.3), (-8.2, 37.7))
            ThreePointArc((-8.2, 37.7), (-8.053553391, 38.053553391), (-7.7, 38.2))
            Line((-7.7, 38.2), (-4, 38.2))
            ThreePointArc((-4, 38.2), (-2.444365081, 37.555634919), (-1.8, 36))
        make_face(mode=Mode.SUBTRACT)
    extrude(amount=-BOSS_EXTRU_1_DEPTH)


solid = part.part
